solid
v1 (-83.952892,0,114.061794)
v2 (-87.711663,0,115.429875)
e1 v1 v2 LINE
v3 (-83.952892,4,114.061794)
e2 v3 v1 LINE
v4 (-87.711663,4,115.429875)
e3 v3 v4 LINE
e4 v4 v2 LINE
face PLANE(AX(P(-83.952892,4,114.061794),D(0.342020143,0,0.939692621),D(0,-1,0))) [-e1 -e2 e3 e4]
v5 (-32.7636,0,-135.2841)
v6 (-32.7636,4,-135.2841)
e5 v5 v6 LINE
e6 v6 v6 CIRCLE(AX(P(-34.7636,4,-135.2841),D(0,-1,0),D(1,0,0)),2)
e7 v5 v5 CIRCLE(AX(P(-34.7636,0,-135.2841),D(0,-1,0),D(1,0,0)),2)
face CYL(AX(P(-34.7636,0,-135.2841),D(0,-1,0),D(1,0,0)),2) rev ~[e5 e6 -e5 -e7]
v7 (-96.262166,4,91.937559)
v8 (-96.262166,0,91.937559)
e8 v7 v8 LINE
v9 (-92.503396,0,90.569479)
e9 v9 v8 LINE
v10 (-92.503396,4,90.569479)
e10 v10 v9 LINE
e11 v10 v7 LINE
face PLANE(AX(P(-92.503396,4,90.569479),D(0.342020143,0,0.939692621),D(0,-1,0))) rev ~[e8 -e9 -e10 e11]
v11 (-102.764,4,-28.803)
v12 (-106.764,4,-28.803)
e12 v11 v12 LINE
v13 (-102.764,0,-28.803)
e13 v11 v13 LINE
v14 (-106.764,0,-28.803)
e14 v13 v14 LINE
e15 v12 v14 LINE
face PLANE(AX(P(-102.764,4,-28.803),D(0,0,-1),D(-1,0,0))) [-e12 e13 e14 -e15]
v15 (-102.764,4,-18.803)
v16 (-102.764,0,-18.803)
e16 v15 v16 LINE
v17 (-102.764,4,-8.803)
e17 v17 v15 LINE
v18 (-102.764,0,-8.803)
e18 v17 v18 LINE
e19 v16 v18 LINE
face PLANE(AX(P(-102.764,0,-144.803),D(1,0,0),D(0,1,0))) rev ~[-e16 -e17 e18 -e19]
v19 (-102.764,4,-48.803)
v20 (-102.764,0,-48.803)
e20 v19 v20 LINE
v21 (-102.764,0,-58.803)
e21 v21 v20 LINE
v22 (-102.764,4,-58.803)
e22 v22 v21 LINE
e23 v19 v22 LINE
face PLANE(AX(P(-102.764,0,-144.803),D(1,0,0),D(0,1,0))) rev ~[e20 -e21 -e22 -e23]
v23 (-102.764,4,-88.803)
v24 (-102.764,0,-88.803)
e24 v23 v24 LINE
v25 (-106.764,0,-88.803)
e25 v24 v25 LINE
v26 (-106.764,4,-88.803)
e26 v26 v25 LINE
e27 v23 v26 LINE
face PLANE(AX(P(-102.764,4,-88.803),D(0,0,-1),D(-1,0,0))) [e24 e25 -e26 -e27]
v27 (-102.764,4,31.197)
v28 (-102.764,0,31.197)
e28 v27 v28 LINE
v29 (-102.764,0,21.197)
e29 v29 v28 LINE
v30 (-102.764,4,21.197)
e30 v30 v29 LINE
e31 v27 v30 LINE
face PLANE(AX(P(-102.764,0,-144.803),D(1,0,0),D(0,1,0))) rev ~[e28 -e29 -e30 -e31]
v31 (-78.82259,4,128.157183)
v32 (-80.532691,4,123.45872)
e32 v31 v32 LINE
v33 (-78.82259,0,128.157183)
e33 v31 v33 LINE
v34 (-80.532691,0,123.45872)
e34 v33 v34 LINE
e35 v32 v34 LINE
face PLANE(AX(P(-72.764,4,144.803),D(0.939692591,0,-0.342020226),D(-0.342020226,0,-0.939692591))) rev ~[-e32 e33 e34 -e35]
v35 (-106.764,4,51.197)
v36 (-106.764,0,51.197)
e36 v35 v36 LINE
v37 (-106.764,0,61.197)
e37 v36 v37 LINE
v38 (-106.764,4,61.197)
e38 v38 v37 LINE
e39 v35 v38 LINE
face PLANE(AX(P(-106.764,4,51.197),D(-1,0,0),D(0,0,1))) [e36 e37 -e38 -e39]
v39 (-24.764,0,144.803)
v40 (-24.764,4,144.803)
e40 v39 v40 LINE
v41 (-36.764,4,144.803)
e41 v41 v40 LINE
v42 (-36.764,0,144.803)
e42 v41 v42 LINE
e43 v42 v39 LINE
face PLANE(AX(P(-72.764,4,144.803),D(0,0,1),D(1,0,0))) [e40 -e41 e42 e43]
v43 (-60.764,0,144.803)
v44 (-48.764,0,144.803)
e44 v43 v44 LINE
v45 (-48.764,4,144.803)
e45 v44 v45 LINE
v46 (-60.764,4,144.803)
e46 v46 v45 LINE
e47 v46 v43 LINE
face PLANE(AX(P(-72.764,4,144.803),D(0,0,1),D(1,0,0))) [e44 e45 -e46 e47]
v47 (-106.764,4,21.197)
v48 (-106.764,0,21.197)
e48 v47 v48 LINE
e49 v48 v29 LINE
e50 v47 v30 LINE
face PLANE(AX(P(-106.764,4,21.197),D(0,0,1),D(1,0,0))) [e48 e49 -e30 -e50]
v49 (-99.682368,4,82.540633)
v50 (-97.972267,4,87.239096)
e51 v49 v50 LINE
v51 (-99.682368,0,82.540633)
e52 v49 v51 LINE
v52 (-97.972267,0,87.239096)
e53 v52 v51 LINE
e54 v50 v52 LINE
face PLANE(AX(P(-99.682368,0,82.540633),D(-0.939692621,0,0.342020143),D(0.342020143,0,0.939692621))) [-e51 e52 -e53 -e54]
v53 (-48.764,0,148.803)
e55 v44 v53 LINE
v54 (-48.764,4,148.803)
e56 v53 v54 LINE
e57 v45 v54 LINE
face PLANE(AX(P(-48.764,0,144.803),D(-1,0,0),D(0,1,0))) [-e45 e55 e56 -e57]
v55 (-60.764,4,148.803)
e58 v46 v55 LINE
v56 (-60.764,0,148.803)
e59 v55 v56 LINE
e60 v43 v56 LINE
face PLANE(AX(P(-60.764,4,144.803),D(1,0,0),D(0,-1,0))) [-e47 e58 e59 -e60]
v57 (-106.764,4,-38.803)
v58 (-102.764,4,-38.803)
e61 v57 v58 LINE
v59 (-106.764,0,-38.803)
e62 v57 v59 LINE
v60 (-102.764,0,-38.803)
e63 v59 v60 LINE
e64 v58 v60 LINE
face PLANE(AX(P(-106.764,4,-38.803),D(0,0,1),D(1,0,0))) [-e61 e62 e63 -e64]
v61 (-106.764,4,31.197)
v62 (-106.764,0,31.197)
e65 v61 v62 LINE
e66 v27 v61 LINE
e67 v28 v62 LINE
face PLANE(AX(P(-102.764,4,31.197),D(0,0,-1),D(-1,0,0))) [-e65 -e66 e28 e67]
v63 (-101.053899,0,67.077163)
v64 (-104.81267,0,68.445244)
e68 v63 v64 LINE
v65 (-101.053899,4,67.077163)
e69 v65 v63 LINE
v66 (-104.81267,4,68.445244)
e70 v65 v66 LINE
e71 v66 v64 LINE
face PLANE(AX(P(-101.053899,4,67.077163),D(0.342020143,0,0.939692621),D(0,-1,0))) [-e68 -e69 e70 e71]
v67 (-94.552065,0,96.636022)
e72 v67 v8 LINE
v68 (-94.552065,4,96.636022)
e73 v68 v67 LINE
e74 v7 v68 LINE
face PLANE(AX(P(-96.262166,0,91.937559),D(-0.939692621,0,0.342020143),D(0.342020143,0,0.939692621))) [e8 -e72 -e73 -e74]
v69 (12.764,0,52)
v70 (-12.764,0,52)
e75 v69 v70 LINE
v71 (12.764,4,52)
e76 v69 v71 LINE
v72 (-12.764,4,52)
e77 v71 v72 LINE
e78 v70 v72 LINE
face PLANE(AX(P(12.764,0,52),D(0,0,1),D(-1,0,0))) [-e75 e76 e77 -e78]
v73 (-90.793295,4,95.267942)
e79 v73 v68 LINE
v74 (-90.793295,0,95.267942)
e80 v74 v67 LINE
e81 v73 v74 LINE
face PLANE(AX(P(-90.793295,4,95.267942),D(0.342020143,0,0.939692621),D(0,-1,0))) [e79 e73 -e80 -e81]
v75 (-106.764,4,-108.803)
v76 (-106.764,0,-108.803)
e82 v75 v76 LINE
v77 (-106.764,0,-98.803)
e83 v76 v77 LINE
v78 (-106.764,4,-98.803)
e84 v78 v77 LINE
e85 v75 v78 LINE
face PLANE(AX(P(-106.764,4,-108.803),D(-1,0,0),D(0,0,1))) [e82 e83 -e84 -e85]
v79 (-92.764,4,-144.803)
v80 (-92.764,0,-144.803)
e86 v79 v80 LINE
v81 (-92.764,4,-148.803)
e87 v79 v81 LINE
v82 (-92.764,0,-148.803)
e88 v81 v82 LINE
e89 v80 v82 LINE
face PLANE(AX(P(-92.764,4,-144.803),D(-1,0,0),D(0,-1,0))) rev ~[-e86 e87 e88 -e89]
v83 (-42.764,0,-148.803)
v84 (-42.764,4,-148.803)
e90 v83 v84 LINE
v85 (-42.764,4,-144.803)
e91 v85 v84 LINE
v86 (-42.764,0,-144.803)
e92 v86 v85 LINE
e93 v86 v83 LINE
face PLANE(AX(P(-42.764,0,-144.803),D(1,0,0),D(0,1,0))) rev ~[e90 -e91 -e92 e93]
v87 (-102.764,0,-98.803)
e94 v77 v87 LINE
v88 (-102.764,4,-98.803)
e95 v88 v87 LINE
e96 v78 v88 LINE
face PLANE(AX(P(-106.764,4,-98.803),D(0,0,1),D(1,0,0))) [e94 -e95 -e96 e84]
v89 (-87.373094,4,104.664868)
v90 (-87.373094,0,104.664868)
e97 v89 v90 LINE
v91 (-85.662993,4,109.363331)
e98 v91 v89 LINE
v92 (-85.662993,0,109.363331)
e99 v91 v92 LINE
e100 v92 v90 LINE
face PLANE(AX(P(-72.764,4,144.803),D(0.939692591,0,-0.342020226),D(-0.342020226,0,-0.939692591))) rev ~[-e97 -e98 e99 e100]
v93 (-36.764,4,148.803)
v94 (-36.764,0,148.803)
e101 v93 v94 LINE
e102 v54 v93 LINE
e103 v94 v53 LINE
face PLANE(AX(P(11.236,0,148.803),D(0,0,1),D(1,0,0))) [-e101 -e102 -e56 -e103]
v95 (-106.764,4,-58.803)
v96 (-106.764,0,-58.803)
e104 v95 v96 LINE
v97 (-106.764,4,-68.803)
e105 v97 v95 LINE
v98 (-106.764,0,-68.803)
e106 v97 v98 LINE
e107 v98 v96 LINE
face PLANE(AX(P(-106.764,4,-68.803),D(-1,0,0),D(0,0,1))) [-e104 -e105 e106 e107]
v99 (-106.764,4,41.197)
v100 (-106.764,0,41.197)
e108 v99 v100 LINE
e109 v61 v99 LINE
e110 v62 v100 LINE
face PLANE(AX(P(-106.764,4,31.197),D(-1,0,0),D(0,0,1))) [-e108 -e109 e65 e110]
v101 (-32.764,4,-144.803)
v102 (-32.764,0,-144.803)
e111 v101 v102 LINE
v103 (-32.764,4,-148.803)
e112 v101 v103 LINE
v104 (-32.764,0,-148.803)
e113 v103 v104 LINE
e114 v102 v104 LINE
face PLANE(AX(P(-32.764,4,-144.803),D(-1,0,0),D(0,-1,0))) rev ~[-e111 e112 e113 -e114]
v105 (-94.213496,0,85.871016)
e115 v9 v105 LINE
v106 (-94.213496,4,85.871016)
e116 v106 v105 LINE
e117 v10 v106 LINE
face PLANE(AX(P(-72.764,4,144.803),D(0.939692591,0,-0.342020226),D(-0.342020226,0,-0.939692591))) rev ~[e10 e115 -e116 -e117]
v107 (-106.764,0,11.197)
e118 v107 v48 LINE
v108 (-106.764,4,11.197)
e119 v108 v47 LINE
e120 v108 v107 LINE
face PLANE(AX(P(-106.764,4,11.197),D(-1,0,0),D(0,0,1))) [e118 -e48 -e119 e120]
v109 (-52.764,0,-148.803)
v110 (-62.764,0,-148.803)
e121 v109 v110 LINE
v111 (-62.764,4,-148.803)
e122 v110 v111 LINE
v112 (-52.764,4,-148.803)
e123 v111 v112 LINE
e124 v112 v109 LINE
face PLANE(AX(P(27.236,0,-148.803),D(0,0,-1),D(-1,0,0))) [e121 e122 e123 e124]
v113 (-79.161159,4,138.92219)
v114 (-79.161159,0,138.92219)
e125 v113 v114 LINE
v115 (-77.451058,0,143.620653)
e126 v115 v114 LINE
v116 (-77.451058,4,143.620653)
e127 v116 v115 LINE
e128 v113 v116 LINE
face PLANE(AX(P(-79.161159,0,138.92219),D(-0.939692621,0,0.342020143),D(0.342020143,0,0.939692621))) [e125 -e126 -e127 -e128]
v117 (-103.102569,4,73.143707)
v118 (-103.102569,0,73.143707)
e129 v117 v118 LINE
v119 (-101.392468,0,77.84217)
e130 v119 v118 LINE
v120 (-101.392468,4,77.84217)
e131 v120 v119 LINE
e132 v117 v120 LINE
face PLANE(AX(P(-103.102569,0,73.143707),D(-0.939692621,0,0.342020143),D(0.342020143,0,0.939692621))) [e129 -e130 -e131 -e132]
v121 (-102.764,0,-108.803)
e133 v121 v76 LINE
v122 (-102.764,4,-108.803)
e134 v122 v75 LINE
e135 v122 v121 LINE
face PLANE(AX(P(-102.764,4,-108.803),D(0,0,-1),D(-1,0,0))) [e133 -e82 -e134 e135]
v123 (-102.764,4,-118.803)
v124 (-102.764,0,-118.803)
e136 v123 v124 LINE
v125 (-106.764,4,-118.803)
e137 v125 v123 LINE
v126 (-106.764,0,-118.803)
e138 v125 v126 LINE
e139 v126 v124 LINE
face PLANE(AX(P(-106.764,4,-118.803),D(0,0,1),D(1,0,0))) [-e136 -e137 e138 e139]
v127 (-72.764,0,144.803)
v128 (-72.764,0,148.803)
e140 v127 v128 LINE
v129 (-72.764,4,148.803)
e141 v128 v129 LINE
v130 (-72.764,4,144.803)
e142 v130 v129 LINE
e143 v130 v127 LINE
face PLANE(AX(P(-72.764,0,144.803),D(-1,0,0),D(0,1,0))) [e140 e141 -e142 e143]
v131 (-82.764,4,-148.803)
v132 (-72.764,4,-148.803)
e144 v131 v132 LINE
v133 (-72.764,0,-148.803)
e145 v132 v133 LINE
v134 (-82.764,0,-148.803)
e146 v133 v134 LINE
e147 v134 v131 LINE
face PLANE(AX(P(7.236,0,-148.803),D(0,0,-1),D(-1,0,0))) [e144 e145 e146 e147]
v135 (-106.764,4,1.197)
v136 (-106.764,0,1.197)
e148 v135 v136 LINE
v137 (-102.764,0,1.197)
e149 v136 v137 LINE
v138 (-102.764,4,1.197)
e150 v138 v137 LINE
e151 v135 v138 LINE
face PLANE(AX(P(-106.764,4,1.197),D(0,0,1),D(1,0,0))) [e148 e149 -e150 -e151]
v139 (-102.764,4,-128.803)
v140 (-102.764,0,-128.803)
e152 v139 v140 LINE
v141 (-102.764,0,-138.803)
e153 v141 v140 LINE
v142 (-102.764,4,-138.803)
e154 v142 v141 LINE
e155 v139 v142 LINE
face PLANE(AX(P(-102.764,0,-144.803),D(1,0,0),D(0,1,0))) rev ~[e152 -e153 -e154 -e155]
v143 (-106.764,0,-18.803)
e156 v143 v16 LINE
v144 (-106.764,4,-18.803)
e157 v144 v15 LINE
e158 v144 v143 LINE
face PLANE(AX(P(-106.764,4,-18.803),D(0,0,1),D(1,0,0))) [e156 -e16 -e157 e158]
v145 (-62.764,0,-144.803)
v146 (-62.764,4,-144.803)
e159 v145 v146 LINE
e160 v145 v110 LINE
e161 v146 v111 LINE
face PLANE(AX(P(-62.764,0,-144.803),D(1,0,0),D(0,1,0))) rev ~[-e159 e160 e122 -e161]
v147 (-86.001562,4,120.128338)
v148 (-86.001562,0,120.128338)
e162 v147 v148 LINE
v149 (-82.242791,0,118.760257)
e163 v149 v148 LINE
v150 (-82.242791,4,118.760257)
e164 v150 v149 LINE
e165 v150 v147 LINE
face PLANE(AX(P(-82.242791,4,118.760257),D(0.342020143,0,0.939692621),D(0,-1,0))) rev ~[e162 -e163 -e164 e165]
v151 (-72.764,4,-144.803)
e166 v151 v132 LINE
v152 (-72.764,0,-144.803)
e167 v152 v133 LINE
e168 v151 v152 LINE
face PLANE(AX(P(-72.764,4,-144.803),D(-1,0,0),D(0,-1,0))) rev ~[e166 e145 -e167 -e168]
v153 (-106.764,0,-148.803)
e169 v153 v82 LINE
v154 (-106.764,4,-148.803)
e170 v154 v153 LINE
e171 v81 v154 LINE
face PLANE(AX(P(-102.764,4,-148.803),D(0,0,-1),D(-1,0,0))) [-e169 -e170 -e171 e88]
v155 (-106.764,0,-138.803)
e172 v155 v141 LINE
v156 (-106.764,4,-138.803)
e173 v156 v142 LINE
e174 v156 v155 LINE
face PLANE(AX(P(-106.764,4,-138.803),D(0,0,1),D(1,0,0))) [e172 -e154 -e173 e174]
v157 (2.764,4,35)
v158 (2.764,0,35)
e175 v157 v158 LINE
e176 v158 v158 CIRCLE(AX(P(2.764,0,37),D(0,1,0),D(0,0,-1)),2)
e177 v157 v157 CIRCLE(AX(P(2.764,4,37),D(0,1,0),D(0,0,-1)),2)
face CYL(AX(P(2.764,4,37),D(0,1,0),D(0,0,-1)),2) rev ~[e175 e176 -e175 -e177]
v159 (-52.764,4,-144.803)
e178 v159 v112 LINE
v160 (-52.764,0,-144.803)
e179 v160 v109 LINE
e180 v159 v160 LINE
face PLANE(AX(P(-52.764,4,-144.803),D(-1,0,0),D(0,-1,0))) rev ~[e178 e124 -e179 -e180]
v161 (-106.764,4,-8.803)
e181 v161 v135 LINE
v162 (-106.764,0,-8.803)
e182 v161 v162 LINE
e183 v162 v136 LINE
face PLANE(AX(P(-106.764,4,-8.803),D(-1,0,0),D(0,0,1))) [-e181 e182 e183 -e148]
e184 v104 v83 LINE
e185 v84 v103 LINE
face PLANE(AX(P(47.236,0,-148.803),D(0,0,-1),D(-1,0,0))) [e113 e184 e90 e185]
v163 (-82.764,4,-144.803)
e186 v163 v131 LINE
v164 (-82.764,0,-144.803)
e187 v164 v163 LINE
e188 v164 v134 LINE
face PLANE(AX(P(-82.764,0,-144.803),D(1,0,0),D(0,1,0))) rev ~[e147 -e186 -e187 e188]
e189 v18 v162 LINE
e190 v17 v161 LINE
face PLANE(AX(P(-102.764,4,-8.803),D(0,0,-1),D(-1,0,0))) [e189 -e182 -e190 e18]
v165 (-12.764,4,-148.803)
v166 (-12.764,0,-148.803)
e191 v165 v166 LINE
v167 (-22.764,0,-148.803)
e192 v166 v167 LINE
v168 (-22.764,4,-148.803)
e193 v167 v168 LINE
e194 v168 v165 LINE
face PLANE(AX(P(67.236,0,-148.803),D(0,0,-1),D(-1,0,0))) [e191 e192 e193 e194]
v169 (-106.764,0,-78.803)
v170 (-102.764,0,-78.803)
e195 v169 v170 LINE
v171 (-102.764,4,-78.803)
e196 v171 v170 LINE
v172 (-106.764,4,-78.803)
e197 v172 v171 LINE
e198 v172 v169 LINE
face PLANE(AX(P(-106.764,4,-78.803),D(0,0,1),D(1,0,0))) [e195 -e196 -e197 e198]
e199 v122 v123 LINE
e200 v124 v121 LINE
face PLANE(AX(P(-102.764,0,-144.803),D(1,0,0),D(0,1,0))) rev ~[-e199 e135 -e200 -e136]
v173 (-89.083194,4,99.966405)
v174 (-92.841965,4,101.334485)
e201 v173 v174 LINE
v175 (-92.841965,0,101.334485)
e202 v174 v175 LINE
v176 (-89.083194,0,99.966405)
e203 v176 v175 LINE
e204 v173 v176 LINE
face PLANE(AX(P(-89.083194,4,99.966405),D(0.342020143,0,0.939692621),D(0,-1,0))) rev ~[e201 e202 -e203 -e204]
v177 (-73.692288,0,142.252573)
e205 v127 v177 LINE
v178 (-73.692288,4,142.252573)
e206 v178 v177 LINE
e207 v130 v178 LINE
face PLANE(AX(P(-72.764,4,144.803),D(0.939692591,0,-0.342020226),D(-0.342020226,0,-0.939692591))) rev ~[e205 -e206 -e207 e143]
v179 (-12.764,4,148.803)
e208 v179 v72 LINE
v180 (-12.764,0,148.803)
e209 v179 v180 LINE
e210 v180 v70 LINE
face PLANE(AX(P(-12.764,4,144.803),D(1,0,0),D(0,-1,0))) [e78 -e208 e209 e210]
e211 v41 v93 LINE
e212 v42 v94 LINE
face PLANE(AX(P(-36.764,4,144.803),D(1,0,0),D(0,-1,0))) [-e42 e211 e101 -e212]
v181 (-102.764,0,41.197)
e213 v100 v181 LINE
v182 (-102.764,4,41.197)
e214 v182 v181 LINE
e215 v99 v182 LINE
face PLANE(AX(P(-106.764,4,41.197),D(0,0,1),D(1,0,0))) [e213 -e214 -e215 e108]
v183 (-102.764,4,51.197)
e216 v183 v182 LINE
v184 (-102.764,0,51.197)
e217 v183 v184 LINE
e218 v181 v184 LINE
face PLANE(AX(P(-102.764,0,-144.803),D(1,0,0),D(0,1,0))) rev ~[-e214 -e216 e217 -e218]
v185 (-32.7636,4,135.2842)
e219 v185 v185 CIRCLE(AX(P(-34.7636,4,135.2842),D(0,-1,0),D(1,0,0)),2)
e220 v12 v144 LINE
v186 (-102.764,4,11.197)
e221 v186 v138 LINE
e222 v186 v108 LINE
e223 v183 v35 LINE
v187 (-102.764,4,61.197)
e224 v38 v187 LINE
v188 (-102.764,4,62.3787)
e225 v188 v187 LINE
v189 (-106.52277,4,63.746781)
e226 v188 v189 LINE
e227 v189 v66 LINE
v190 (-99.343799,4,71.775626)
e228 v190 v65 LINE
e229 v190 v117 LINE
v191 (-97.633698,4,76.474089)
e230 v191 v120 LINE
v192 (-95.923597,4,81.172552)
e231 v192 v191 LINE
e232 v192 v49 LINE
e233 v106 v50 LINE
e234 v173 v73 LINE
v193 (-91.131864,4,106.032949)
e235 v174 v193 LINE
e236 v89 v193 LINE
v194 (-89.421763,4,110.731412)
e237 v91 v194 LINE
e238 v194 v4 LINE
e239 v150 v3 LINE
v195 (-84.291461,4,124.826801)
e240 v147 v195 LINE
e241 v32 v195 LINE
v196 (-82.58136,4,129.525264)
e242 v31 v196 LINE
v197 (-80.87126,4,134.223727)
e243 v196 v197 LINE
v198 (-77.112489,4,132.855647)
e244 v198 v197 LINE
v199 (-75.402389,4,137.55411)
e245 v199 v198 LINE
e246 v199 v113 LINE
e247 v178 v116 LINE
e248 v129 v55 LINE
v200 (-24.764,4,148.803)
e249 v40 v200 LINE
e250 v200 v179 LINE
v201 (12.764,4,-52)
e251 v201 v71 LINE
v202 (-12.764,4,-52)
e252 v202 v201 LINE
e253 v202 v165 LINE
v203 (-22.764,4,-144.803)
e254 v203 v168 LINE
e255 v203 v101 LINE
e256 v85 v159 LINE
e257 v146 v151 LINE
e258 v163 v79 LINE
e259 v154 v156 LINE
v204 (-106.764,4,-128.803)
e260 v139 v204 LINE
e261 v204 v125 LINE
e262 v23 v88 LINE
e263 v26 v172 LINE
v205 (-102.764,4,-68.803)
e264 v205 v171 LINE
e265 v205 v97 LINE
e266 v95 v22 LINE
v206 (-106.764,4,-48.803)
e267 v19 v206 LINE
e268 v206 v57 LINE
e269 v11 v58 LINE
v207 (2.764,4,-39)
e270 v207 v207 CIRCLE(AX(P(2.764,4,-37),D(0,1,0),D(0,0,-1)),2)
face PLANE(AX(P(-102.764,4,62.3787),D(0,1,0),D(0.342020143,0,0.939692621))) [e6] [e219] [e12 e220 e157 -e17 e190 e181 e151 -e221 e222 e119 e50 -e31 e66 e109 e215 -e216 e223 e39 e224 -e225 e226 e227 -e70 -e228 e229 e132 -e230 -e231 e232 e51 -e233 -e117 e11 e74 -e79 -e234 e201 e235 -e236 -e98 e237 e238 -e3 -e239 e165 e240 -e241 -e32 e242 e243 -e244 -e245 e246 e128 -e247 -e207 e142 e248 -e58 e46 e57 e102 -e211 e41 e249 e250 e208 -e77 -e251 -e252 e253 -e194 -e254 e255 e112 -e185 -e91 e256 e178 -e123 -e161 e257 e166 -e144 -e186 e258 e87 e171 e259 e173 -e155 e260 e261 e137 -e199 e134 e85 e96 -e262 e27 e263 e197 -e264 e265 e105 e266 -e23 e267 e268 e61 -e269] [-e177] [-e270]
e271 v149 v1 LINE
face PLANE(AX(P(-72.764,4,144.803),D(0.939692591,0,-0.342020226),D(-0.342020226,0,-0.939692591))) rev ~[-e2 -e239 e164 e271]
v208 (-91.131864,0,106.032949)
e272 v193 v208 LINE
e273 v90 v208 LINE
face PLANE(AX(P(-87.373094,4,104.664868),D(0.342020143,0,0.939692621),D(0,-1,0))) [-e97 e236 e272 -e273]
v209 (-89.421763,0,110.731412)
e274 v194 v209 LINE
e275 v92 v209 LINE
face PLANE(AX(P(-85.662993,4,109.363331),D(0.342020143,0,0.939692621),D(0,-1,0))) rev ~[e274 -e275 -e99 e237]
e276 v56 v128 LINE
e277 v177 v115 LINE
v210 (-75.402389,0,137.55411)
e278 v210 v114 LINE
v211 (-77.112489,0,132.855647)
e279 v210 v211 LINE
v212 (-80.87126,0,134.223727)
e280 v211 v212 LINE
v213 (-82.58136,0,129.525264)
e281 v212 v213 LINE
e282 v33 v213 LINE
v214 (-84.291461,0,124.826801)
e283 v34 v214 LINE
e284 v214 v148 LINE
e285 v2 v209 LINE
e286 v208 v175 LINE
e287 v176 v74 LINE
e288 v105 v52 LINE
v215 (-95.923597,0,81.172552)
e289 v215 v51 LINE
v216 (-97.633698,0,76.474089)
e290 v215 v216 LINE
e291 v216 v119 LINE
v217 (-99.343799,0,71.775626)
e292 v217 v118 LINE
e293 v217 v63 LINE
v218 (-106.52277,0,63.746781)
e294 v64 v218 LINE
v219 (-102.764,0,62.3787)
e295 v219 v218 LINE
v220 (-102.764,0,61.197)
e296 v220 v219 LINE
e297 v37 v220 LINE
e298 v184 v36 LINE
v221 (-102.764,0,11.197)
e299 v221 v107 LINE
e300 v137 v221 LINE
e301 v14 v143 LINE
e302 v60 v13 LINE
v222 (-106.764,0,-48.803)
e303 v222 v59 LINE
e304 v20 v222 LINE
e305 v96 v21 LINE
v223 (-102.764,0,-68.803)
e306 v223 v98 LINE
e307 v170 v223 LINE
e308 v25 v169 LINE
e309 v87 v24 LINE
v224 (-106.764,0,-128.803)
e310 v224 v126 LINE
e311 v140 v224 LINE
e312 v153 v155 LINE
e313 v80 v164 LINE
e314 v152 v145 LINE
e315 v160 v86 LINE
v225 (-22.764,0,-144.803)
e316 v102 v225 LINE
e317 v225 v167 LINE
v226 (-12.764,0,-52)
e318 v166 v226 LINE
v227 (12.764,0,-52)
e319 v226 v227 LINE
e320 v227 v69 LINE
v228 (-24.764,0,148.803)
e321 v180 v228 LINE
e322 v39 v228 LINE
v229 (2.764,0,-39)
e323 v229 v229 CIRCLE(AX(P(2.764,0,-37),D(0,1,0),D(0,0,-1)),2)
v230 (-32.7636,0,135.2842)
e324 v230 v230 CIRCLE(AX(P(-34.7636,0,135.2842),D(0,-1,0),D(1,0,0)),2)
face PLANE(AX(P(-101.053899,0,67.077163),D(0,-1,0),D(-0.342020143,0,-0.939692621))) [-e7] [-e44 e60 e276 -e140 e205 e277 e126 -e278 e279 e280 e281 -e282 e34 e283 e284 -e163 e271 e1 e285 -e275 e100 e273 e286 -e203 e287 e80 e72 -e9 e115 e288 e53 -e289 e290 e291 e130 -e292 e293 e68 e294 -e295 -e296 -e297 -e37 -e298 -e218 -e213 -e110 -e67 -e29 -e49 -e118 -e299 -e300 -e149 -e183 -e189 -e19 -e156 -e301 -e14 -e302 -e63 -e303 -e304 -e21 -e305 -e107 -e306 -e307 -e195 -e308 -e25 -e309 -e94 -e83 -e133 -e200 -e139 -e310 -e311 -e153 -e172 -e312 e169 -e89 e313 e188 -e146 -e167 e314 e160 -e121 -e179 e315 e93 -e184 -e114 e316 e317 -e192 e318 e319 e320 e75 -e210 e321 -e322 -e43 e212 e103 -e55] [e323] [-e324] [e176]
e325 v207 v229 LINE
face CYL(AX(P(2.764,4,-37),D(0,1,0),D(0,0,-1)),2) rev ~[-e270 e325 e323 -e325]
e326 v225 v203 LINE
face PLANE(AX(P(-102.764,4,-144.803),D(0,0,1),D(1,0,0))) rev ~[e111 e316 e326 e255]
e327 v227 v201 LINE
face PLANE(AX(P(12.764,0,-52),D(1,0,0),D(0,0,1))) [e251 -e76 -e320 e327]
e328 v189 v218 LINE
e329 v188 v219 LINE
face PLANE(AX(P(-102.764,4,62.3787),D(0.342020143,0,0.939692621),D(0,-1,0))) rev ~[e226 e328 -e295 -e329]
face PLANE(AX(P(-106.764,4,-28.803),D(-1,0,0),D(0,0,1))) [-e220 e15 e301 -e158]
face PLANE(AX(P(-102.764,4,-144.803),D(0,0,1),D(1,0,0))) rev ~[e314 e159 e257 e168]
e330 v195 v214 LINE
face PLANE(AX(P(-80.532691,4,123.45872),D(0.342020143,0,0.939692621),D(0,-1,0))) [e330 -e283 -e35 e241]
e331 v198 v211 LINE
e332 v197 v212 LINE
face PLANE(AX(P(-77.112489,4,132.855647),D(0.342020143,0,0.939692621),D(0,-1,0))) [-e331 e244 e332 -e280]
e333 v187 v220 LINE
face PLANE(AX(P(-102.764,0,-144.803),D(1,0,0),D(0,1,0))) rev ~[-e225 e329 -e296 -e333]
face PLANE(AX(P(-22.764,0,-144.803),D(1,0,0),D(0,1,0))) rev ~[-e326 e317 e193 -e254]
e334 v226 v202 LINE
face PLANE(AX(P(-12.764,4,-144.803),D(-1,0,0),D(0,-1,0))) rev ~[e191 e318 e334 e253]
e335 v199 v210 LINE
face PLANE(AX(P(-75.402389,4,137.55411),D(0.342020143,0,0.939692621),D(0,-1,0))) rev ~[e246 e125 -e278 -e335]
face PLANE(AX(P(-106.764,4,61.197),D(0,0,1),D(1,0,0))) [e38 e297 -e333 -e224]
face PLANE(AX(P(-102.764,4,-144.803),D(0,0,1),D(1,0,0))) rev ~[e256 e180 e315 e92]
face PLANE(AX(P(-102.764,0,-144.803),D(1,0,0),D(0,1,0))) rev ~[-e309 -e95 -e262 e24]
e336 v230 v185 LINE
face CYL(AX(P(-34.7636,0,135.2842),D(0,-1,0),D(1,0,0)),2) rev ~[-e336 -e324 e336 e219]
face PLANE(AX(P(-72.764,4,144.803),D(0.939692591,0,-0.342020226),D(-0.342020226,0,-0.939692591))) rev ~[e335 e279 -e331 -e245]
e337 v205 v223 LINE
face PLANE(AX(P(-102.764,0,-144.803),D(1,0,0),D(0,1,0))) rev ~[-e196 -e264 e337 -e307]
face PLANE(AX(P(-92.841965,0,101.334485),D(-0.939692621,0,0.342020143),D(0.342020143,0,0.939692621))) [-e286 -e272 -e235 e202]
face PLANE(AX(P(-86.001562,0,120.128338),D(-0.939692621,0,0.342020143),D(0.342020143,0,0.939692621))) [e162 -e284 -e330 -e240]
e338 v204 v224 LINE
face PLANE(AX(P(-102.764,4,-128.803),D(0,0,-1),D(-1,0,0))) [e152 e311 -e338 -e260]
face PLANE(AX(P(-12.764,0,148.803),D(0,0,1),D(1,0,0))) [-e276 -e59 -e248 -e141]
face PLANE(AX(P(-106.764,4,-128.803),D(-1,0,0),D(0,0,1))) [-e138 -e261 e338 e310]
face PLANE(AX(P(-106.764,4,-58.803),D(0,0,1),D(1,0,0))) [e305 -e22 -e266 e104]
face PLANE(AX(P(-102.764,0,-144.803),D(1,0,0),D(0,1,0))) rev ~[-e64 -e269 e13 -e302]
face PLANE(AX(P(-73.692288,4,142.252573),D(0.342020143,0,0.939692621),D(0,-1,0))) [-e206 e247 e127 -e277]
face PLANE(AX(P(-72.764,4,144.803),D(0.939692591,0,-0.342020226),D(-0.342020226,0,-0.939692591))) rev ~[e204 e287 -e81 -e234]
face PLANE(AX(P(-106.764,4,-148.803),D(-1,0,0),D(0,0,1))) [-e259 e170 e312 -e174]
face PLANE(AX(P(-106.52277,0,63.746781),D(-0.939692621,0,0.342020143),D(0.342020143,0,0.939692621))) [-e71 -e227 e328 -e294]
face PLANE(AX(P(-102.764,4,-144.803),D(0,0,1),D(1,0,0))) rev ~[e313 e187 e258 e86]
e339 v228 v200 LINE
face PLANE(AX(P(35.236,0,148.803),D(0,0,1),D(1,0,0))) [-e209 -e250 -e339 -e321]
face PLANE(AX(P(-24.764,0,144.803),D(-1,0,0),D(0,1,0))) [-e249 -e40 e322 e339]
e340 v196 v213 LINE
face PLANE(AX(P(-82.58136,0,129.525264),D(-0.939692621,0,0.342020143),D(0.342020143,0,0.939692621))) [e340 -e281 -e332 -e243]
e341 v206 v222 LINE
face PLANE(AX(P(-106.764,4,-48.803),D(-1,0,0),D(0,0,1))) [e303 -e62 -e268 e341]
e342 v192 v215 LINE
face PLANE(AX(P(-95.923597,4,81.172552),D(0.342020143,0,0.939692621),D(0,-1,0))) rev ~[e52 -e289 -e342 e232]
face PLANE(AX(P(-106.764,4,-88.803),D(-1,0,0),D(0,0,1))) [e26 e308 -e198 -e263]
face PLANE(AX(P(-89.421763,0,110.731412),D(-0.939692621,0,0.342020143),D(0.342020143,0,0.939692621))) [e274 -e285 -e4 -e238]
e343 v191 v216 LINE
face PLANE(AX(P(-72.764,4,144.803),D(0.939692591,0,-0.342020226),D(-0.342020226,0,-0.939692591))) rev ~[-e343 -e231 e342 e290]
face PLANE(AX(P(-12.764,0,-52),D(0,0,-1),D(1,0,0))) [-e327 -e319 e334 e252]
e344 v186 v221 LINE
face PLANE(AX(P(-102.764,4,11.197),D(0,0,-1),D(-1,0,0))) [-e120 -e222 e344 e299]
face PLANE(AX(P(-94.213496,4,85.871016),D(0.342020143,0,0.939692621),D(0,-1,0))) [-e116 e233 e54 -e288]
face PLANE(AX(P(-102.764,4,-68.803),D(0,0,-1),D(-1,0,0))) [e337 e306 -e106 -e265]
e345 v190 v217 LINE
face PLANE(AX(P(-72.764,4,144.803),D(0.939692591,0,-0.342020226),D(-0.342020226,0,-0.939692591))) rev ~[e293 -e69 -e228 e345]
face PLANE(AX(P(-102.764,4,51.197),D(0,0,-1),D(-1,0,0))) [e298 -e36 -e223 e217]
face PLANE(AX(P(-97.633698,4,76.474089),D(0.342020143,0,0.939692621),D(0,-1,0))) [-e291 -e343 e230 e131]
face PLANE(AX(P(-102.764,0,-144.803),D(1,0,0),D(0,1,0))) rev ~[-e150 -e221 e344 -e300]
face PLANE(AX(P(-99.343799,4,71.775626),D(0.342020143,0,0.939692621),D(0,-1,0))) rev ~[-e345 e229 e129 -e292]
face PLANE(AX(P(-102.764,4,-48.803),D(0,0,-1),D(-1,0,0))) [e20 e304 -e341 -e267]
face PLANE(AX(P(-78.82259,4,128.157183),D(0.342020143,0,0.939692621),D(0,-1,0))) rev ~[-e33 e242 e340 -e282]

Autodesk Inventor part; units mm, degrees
ref_plane "YZ Plane" through (0, 0, 0) normal (1, 0, 0) x (0, 1, 0)
ref_plane "XZ Plane" through (0, 0, 0) normal (0, 1, 0) x (-1, 0, 0)
ref_plane "XY Plane" through (0, 0, 0) normal (0, 0, 1) x (1, 0, 0)
sketch "Эскиз1" plane through (2.236, 0, -46.8876) normal (0, 1, 0) x (-1, 0, 0)
  line L0 (-10.528, 98.8876) -> (15, 98.8876)
  line L1 (15, 98.8876) -> (15, -5.1124)
  line L2 (15, -5.1124) -> (-10.528, -5.1124)
  line L3 (-10.528, -5.1124) -> (-10.528, 98.8876)
  point P0 (0, 0)
  dimension "d0" = 25.528
  dimension "d1" = 104
extrude "Выдавливание1" add sketch "Эскиз1" along normal blind 4
sketch "Эскиз2" plane through (2.236, 4, -46.8876) normal (0, 1, 0) x (0, 0, -1)
  circle A0 centre (-9.8876, -0.528) radius 2 projected
  circle A1 centre (-83.8876, -0.528) radius 2 projected
  point P0 (0, 0)
extrude "Выдавливание2" cut sketch "Эскиз2" against normal blind 4
sketch "Эскиз3" plane through (2.236, 4, -46.8876) normal (0, 1, 0) x (1, 0, 0)
  line L0 (-75, -191.6906) -> (-15, -191.6906)
  line L1 (-15, -191.6906) -> (-15, 97.9154)
  line L2 (-15, 97.9154) -> (-75, 97.9154)
  line L3 (-75, 97.9154) -> (-75, -191.6906)
  line L4 (-15, -98.8876) -> (10.528, -98.8876) projected
  line L5 (10.528, 5.1124) -> (-15, 5.1124) projected
  point P0 (-2.236, -46.8876)
  dimension "d8" = 92.803
  dimension "d9" = 92.803
  dimension "d10" = 60
extrude "Выдавливание3" add sketch "Эскиз3" against normal blind 4
sketch "Эскиз4" plane through (2.236, 4, -46.8876) normal (0, 1, 0) x (1, 0, 0)
  line L0 (-75, -191.6906) -> (-75, 97.9154) projected
  line L1 (-75, -191.6906) -> (-105, -109.2663)
  line L2 (-105, -109.2663) -> (-105, 97.9154)
  line L3 (-105, 97.9154) -> (-75, 97.9154)
  line L4 (-2.236, -46.8876) -> (-20.0662, -46.8876)
  dimension "d13" = 30
  dimension "d14" = 90
  dimension "d17" = 20
extrude "Выдавливание4" add sketch "Эскиз4" against normal blind 4
sketch "Эскиз5" plane through (-12.764, 0, 144.803) normal (0, 0, 1) x (1, 0, 0)
  line L0 (-60, 4) -> (0, 4) projected
  line L1 (0, 0) -> (-60, 0) projected
  line L2 (-60, 4) -> (-48, 4)
  line L3 (-48, 4) -> (-48, 0)
  line L4 (-48, 0) -> (-60, 0)
  line L5 (-60, 0) -> (-60, 4)
  point P0 (12.764, 0)
  dimension "d18" = 12
extrude "Выдавливание5" add sketch "Эскиз5" along normal blind 4
pattern_linear "Прямоуг.массив1" count 3 spacing 24 along (1, 0, 0) of "Выдавливание5"
sketch "Эскиз6" plane through (-12.764, 0, -144.803) normal (0, 0, -1) x (-1, 0, 0)
  line L0 (90, 4) -> (60, 4) projected
  line L1 (60, 0) -> (90, 0) projected
  line L2 (90, 4) -> (80, 4)
  line L3 (80, 4) -> (80, 0)
  line L4 (80, 0) -> (90, 0)
  line L5 (90, 0) -> (90, 4)
  point P0 (-12.764, 0)
  point P1 (90, 0)
  point P2 (80, 4)
  dimension "d24" = 10
extrude "Выдавливание6" add sketch "Эскиз6" along normal blind 4
pattern_linear "Прямоуг.массив2" count 5 spacing 20 along (1, 0, 0) of "Выдавливание6"
sketch "Эскиз7" plane through (2.236, 4, -46.8876) normal (0, 1, 0) x (1, 0, 0)
  line L0 (-105, 101.9154) -> (-105, -109.2663) projected
  line L1 (-105, 101.9154) -> (-109, 101.9154)
  line L2 (-109, 101.9154) -> (-109, 91.9154)
  line L3 (-109, 91.9154) -> (-105, 91.9154)
  line L4 (-105, 91.9154) -> (-105, 101.9154)
  point P0 (-2.236, -46.8876)
  dimension "d30" = 4
  dimension "d31" = 10
extrude "Выдавливание7" add sketch "Эскиз7" against normal blind 4
pattern_linear "Прямоуг.массив3" count 11 spacing 20 along (0, 0, 1) of "Выдавливание7"
sketch "Эскиз8" plane through (2.236, 0, -46.8876) normal (0, -1, 0) x (1, 0, 0)
  circle A0 centre (-36.9996, -88.3965) radius 2 projected
  circle A1 centre (-36.9996, 182.1718) radius 2 projected
  point P0 (-2.236, 46.8876)
extrude "Выдавливание8" cut sketch "Эскиз8" against normal blind 4
sketch "Эскиз9" plane through (-102.764, 0, 62.3787) normal (-0.9397, 0, 0.342) x (0.342, 0, 0.9397)
  line L0 (0, 4) -> (0, 0) projected
  line L1 (0, 4) -> (5, 4)
  line L2 (5, 4) -> (5, 0)
  line L3 (5, 0) -> (0, 0)
  line L4 (0, 0) -> (0, 4)
  point P0 (-23.4694, 0)
  dimension "d39" = 5
  dimension "d40" = 4
extrude "Выдавливание9" add sketch "Эскиз9" along normal blind 4
pattern_linear "Прямоуг.массив4" count 9 spacing 10 along (0.342, 0, 0.9397) of "Выдавливание9"
properties part number "KB33-046-004-008 - Центральная правая боковая пластина"
